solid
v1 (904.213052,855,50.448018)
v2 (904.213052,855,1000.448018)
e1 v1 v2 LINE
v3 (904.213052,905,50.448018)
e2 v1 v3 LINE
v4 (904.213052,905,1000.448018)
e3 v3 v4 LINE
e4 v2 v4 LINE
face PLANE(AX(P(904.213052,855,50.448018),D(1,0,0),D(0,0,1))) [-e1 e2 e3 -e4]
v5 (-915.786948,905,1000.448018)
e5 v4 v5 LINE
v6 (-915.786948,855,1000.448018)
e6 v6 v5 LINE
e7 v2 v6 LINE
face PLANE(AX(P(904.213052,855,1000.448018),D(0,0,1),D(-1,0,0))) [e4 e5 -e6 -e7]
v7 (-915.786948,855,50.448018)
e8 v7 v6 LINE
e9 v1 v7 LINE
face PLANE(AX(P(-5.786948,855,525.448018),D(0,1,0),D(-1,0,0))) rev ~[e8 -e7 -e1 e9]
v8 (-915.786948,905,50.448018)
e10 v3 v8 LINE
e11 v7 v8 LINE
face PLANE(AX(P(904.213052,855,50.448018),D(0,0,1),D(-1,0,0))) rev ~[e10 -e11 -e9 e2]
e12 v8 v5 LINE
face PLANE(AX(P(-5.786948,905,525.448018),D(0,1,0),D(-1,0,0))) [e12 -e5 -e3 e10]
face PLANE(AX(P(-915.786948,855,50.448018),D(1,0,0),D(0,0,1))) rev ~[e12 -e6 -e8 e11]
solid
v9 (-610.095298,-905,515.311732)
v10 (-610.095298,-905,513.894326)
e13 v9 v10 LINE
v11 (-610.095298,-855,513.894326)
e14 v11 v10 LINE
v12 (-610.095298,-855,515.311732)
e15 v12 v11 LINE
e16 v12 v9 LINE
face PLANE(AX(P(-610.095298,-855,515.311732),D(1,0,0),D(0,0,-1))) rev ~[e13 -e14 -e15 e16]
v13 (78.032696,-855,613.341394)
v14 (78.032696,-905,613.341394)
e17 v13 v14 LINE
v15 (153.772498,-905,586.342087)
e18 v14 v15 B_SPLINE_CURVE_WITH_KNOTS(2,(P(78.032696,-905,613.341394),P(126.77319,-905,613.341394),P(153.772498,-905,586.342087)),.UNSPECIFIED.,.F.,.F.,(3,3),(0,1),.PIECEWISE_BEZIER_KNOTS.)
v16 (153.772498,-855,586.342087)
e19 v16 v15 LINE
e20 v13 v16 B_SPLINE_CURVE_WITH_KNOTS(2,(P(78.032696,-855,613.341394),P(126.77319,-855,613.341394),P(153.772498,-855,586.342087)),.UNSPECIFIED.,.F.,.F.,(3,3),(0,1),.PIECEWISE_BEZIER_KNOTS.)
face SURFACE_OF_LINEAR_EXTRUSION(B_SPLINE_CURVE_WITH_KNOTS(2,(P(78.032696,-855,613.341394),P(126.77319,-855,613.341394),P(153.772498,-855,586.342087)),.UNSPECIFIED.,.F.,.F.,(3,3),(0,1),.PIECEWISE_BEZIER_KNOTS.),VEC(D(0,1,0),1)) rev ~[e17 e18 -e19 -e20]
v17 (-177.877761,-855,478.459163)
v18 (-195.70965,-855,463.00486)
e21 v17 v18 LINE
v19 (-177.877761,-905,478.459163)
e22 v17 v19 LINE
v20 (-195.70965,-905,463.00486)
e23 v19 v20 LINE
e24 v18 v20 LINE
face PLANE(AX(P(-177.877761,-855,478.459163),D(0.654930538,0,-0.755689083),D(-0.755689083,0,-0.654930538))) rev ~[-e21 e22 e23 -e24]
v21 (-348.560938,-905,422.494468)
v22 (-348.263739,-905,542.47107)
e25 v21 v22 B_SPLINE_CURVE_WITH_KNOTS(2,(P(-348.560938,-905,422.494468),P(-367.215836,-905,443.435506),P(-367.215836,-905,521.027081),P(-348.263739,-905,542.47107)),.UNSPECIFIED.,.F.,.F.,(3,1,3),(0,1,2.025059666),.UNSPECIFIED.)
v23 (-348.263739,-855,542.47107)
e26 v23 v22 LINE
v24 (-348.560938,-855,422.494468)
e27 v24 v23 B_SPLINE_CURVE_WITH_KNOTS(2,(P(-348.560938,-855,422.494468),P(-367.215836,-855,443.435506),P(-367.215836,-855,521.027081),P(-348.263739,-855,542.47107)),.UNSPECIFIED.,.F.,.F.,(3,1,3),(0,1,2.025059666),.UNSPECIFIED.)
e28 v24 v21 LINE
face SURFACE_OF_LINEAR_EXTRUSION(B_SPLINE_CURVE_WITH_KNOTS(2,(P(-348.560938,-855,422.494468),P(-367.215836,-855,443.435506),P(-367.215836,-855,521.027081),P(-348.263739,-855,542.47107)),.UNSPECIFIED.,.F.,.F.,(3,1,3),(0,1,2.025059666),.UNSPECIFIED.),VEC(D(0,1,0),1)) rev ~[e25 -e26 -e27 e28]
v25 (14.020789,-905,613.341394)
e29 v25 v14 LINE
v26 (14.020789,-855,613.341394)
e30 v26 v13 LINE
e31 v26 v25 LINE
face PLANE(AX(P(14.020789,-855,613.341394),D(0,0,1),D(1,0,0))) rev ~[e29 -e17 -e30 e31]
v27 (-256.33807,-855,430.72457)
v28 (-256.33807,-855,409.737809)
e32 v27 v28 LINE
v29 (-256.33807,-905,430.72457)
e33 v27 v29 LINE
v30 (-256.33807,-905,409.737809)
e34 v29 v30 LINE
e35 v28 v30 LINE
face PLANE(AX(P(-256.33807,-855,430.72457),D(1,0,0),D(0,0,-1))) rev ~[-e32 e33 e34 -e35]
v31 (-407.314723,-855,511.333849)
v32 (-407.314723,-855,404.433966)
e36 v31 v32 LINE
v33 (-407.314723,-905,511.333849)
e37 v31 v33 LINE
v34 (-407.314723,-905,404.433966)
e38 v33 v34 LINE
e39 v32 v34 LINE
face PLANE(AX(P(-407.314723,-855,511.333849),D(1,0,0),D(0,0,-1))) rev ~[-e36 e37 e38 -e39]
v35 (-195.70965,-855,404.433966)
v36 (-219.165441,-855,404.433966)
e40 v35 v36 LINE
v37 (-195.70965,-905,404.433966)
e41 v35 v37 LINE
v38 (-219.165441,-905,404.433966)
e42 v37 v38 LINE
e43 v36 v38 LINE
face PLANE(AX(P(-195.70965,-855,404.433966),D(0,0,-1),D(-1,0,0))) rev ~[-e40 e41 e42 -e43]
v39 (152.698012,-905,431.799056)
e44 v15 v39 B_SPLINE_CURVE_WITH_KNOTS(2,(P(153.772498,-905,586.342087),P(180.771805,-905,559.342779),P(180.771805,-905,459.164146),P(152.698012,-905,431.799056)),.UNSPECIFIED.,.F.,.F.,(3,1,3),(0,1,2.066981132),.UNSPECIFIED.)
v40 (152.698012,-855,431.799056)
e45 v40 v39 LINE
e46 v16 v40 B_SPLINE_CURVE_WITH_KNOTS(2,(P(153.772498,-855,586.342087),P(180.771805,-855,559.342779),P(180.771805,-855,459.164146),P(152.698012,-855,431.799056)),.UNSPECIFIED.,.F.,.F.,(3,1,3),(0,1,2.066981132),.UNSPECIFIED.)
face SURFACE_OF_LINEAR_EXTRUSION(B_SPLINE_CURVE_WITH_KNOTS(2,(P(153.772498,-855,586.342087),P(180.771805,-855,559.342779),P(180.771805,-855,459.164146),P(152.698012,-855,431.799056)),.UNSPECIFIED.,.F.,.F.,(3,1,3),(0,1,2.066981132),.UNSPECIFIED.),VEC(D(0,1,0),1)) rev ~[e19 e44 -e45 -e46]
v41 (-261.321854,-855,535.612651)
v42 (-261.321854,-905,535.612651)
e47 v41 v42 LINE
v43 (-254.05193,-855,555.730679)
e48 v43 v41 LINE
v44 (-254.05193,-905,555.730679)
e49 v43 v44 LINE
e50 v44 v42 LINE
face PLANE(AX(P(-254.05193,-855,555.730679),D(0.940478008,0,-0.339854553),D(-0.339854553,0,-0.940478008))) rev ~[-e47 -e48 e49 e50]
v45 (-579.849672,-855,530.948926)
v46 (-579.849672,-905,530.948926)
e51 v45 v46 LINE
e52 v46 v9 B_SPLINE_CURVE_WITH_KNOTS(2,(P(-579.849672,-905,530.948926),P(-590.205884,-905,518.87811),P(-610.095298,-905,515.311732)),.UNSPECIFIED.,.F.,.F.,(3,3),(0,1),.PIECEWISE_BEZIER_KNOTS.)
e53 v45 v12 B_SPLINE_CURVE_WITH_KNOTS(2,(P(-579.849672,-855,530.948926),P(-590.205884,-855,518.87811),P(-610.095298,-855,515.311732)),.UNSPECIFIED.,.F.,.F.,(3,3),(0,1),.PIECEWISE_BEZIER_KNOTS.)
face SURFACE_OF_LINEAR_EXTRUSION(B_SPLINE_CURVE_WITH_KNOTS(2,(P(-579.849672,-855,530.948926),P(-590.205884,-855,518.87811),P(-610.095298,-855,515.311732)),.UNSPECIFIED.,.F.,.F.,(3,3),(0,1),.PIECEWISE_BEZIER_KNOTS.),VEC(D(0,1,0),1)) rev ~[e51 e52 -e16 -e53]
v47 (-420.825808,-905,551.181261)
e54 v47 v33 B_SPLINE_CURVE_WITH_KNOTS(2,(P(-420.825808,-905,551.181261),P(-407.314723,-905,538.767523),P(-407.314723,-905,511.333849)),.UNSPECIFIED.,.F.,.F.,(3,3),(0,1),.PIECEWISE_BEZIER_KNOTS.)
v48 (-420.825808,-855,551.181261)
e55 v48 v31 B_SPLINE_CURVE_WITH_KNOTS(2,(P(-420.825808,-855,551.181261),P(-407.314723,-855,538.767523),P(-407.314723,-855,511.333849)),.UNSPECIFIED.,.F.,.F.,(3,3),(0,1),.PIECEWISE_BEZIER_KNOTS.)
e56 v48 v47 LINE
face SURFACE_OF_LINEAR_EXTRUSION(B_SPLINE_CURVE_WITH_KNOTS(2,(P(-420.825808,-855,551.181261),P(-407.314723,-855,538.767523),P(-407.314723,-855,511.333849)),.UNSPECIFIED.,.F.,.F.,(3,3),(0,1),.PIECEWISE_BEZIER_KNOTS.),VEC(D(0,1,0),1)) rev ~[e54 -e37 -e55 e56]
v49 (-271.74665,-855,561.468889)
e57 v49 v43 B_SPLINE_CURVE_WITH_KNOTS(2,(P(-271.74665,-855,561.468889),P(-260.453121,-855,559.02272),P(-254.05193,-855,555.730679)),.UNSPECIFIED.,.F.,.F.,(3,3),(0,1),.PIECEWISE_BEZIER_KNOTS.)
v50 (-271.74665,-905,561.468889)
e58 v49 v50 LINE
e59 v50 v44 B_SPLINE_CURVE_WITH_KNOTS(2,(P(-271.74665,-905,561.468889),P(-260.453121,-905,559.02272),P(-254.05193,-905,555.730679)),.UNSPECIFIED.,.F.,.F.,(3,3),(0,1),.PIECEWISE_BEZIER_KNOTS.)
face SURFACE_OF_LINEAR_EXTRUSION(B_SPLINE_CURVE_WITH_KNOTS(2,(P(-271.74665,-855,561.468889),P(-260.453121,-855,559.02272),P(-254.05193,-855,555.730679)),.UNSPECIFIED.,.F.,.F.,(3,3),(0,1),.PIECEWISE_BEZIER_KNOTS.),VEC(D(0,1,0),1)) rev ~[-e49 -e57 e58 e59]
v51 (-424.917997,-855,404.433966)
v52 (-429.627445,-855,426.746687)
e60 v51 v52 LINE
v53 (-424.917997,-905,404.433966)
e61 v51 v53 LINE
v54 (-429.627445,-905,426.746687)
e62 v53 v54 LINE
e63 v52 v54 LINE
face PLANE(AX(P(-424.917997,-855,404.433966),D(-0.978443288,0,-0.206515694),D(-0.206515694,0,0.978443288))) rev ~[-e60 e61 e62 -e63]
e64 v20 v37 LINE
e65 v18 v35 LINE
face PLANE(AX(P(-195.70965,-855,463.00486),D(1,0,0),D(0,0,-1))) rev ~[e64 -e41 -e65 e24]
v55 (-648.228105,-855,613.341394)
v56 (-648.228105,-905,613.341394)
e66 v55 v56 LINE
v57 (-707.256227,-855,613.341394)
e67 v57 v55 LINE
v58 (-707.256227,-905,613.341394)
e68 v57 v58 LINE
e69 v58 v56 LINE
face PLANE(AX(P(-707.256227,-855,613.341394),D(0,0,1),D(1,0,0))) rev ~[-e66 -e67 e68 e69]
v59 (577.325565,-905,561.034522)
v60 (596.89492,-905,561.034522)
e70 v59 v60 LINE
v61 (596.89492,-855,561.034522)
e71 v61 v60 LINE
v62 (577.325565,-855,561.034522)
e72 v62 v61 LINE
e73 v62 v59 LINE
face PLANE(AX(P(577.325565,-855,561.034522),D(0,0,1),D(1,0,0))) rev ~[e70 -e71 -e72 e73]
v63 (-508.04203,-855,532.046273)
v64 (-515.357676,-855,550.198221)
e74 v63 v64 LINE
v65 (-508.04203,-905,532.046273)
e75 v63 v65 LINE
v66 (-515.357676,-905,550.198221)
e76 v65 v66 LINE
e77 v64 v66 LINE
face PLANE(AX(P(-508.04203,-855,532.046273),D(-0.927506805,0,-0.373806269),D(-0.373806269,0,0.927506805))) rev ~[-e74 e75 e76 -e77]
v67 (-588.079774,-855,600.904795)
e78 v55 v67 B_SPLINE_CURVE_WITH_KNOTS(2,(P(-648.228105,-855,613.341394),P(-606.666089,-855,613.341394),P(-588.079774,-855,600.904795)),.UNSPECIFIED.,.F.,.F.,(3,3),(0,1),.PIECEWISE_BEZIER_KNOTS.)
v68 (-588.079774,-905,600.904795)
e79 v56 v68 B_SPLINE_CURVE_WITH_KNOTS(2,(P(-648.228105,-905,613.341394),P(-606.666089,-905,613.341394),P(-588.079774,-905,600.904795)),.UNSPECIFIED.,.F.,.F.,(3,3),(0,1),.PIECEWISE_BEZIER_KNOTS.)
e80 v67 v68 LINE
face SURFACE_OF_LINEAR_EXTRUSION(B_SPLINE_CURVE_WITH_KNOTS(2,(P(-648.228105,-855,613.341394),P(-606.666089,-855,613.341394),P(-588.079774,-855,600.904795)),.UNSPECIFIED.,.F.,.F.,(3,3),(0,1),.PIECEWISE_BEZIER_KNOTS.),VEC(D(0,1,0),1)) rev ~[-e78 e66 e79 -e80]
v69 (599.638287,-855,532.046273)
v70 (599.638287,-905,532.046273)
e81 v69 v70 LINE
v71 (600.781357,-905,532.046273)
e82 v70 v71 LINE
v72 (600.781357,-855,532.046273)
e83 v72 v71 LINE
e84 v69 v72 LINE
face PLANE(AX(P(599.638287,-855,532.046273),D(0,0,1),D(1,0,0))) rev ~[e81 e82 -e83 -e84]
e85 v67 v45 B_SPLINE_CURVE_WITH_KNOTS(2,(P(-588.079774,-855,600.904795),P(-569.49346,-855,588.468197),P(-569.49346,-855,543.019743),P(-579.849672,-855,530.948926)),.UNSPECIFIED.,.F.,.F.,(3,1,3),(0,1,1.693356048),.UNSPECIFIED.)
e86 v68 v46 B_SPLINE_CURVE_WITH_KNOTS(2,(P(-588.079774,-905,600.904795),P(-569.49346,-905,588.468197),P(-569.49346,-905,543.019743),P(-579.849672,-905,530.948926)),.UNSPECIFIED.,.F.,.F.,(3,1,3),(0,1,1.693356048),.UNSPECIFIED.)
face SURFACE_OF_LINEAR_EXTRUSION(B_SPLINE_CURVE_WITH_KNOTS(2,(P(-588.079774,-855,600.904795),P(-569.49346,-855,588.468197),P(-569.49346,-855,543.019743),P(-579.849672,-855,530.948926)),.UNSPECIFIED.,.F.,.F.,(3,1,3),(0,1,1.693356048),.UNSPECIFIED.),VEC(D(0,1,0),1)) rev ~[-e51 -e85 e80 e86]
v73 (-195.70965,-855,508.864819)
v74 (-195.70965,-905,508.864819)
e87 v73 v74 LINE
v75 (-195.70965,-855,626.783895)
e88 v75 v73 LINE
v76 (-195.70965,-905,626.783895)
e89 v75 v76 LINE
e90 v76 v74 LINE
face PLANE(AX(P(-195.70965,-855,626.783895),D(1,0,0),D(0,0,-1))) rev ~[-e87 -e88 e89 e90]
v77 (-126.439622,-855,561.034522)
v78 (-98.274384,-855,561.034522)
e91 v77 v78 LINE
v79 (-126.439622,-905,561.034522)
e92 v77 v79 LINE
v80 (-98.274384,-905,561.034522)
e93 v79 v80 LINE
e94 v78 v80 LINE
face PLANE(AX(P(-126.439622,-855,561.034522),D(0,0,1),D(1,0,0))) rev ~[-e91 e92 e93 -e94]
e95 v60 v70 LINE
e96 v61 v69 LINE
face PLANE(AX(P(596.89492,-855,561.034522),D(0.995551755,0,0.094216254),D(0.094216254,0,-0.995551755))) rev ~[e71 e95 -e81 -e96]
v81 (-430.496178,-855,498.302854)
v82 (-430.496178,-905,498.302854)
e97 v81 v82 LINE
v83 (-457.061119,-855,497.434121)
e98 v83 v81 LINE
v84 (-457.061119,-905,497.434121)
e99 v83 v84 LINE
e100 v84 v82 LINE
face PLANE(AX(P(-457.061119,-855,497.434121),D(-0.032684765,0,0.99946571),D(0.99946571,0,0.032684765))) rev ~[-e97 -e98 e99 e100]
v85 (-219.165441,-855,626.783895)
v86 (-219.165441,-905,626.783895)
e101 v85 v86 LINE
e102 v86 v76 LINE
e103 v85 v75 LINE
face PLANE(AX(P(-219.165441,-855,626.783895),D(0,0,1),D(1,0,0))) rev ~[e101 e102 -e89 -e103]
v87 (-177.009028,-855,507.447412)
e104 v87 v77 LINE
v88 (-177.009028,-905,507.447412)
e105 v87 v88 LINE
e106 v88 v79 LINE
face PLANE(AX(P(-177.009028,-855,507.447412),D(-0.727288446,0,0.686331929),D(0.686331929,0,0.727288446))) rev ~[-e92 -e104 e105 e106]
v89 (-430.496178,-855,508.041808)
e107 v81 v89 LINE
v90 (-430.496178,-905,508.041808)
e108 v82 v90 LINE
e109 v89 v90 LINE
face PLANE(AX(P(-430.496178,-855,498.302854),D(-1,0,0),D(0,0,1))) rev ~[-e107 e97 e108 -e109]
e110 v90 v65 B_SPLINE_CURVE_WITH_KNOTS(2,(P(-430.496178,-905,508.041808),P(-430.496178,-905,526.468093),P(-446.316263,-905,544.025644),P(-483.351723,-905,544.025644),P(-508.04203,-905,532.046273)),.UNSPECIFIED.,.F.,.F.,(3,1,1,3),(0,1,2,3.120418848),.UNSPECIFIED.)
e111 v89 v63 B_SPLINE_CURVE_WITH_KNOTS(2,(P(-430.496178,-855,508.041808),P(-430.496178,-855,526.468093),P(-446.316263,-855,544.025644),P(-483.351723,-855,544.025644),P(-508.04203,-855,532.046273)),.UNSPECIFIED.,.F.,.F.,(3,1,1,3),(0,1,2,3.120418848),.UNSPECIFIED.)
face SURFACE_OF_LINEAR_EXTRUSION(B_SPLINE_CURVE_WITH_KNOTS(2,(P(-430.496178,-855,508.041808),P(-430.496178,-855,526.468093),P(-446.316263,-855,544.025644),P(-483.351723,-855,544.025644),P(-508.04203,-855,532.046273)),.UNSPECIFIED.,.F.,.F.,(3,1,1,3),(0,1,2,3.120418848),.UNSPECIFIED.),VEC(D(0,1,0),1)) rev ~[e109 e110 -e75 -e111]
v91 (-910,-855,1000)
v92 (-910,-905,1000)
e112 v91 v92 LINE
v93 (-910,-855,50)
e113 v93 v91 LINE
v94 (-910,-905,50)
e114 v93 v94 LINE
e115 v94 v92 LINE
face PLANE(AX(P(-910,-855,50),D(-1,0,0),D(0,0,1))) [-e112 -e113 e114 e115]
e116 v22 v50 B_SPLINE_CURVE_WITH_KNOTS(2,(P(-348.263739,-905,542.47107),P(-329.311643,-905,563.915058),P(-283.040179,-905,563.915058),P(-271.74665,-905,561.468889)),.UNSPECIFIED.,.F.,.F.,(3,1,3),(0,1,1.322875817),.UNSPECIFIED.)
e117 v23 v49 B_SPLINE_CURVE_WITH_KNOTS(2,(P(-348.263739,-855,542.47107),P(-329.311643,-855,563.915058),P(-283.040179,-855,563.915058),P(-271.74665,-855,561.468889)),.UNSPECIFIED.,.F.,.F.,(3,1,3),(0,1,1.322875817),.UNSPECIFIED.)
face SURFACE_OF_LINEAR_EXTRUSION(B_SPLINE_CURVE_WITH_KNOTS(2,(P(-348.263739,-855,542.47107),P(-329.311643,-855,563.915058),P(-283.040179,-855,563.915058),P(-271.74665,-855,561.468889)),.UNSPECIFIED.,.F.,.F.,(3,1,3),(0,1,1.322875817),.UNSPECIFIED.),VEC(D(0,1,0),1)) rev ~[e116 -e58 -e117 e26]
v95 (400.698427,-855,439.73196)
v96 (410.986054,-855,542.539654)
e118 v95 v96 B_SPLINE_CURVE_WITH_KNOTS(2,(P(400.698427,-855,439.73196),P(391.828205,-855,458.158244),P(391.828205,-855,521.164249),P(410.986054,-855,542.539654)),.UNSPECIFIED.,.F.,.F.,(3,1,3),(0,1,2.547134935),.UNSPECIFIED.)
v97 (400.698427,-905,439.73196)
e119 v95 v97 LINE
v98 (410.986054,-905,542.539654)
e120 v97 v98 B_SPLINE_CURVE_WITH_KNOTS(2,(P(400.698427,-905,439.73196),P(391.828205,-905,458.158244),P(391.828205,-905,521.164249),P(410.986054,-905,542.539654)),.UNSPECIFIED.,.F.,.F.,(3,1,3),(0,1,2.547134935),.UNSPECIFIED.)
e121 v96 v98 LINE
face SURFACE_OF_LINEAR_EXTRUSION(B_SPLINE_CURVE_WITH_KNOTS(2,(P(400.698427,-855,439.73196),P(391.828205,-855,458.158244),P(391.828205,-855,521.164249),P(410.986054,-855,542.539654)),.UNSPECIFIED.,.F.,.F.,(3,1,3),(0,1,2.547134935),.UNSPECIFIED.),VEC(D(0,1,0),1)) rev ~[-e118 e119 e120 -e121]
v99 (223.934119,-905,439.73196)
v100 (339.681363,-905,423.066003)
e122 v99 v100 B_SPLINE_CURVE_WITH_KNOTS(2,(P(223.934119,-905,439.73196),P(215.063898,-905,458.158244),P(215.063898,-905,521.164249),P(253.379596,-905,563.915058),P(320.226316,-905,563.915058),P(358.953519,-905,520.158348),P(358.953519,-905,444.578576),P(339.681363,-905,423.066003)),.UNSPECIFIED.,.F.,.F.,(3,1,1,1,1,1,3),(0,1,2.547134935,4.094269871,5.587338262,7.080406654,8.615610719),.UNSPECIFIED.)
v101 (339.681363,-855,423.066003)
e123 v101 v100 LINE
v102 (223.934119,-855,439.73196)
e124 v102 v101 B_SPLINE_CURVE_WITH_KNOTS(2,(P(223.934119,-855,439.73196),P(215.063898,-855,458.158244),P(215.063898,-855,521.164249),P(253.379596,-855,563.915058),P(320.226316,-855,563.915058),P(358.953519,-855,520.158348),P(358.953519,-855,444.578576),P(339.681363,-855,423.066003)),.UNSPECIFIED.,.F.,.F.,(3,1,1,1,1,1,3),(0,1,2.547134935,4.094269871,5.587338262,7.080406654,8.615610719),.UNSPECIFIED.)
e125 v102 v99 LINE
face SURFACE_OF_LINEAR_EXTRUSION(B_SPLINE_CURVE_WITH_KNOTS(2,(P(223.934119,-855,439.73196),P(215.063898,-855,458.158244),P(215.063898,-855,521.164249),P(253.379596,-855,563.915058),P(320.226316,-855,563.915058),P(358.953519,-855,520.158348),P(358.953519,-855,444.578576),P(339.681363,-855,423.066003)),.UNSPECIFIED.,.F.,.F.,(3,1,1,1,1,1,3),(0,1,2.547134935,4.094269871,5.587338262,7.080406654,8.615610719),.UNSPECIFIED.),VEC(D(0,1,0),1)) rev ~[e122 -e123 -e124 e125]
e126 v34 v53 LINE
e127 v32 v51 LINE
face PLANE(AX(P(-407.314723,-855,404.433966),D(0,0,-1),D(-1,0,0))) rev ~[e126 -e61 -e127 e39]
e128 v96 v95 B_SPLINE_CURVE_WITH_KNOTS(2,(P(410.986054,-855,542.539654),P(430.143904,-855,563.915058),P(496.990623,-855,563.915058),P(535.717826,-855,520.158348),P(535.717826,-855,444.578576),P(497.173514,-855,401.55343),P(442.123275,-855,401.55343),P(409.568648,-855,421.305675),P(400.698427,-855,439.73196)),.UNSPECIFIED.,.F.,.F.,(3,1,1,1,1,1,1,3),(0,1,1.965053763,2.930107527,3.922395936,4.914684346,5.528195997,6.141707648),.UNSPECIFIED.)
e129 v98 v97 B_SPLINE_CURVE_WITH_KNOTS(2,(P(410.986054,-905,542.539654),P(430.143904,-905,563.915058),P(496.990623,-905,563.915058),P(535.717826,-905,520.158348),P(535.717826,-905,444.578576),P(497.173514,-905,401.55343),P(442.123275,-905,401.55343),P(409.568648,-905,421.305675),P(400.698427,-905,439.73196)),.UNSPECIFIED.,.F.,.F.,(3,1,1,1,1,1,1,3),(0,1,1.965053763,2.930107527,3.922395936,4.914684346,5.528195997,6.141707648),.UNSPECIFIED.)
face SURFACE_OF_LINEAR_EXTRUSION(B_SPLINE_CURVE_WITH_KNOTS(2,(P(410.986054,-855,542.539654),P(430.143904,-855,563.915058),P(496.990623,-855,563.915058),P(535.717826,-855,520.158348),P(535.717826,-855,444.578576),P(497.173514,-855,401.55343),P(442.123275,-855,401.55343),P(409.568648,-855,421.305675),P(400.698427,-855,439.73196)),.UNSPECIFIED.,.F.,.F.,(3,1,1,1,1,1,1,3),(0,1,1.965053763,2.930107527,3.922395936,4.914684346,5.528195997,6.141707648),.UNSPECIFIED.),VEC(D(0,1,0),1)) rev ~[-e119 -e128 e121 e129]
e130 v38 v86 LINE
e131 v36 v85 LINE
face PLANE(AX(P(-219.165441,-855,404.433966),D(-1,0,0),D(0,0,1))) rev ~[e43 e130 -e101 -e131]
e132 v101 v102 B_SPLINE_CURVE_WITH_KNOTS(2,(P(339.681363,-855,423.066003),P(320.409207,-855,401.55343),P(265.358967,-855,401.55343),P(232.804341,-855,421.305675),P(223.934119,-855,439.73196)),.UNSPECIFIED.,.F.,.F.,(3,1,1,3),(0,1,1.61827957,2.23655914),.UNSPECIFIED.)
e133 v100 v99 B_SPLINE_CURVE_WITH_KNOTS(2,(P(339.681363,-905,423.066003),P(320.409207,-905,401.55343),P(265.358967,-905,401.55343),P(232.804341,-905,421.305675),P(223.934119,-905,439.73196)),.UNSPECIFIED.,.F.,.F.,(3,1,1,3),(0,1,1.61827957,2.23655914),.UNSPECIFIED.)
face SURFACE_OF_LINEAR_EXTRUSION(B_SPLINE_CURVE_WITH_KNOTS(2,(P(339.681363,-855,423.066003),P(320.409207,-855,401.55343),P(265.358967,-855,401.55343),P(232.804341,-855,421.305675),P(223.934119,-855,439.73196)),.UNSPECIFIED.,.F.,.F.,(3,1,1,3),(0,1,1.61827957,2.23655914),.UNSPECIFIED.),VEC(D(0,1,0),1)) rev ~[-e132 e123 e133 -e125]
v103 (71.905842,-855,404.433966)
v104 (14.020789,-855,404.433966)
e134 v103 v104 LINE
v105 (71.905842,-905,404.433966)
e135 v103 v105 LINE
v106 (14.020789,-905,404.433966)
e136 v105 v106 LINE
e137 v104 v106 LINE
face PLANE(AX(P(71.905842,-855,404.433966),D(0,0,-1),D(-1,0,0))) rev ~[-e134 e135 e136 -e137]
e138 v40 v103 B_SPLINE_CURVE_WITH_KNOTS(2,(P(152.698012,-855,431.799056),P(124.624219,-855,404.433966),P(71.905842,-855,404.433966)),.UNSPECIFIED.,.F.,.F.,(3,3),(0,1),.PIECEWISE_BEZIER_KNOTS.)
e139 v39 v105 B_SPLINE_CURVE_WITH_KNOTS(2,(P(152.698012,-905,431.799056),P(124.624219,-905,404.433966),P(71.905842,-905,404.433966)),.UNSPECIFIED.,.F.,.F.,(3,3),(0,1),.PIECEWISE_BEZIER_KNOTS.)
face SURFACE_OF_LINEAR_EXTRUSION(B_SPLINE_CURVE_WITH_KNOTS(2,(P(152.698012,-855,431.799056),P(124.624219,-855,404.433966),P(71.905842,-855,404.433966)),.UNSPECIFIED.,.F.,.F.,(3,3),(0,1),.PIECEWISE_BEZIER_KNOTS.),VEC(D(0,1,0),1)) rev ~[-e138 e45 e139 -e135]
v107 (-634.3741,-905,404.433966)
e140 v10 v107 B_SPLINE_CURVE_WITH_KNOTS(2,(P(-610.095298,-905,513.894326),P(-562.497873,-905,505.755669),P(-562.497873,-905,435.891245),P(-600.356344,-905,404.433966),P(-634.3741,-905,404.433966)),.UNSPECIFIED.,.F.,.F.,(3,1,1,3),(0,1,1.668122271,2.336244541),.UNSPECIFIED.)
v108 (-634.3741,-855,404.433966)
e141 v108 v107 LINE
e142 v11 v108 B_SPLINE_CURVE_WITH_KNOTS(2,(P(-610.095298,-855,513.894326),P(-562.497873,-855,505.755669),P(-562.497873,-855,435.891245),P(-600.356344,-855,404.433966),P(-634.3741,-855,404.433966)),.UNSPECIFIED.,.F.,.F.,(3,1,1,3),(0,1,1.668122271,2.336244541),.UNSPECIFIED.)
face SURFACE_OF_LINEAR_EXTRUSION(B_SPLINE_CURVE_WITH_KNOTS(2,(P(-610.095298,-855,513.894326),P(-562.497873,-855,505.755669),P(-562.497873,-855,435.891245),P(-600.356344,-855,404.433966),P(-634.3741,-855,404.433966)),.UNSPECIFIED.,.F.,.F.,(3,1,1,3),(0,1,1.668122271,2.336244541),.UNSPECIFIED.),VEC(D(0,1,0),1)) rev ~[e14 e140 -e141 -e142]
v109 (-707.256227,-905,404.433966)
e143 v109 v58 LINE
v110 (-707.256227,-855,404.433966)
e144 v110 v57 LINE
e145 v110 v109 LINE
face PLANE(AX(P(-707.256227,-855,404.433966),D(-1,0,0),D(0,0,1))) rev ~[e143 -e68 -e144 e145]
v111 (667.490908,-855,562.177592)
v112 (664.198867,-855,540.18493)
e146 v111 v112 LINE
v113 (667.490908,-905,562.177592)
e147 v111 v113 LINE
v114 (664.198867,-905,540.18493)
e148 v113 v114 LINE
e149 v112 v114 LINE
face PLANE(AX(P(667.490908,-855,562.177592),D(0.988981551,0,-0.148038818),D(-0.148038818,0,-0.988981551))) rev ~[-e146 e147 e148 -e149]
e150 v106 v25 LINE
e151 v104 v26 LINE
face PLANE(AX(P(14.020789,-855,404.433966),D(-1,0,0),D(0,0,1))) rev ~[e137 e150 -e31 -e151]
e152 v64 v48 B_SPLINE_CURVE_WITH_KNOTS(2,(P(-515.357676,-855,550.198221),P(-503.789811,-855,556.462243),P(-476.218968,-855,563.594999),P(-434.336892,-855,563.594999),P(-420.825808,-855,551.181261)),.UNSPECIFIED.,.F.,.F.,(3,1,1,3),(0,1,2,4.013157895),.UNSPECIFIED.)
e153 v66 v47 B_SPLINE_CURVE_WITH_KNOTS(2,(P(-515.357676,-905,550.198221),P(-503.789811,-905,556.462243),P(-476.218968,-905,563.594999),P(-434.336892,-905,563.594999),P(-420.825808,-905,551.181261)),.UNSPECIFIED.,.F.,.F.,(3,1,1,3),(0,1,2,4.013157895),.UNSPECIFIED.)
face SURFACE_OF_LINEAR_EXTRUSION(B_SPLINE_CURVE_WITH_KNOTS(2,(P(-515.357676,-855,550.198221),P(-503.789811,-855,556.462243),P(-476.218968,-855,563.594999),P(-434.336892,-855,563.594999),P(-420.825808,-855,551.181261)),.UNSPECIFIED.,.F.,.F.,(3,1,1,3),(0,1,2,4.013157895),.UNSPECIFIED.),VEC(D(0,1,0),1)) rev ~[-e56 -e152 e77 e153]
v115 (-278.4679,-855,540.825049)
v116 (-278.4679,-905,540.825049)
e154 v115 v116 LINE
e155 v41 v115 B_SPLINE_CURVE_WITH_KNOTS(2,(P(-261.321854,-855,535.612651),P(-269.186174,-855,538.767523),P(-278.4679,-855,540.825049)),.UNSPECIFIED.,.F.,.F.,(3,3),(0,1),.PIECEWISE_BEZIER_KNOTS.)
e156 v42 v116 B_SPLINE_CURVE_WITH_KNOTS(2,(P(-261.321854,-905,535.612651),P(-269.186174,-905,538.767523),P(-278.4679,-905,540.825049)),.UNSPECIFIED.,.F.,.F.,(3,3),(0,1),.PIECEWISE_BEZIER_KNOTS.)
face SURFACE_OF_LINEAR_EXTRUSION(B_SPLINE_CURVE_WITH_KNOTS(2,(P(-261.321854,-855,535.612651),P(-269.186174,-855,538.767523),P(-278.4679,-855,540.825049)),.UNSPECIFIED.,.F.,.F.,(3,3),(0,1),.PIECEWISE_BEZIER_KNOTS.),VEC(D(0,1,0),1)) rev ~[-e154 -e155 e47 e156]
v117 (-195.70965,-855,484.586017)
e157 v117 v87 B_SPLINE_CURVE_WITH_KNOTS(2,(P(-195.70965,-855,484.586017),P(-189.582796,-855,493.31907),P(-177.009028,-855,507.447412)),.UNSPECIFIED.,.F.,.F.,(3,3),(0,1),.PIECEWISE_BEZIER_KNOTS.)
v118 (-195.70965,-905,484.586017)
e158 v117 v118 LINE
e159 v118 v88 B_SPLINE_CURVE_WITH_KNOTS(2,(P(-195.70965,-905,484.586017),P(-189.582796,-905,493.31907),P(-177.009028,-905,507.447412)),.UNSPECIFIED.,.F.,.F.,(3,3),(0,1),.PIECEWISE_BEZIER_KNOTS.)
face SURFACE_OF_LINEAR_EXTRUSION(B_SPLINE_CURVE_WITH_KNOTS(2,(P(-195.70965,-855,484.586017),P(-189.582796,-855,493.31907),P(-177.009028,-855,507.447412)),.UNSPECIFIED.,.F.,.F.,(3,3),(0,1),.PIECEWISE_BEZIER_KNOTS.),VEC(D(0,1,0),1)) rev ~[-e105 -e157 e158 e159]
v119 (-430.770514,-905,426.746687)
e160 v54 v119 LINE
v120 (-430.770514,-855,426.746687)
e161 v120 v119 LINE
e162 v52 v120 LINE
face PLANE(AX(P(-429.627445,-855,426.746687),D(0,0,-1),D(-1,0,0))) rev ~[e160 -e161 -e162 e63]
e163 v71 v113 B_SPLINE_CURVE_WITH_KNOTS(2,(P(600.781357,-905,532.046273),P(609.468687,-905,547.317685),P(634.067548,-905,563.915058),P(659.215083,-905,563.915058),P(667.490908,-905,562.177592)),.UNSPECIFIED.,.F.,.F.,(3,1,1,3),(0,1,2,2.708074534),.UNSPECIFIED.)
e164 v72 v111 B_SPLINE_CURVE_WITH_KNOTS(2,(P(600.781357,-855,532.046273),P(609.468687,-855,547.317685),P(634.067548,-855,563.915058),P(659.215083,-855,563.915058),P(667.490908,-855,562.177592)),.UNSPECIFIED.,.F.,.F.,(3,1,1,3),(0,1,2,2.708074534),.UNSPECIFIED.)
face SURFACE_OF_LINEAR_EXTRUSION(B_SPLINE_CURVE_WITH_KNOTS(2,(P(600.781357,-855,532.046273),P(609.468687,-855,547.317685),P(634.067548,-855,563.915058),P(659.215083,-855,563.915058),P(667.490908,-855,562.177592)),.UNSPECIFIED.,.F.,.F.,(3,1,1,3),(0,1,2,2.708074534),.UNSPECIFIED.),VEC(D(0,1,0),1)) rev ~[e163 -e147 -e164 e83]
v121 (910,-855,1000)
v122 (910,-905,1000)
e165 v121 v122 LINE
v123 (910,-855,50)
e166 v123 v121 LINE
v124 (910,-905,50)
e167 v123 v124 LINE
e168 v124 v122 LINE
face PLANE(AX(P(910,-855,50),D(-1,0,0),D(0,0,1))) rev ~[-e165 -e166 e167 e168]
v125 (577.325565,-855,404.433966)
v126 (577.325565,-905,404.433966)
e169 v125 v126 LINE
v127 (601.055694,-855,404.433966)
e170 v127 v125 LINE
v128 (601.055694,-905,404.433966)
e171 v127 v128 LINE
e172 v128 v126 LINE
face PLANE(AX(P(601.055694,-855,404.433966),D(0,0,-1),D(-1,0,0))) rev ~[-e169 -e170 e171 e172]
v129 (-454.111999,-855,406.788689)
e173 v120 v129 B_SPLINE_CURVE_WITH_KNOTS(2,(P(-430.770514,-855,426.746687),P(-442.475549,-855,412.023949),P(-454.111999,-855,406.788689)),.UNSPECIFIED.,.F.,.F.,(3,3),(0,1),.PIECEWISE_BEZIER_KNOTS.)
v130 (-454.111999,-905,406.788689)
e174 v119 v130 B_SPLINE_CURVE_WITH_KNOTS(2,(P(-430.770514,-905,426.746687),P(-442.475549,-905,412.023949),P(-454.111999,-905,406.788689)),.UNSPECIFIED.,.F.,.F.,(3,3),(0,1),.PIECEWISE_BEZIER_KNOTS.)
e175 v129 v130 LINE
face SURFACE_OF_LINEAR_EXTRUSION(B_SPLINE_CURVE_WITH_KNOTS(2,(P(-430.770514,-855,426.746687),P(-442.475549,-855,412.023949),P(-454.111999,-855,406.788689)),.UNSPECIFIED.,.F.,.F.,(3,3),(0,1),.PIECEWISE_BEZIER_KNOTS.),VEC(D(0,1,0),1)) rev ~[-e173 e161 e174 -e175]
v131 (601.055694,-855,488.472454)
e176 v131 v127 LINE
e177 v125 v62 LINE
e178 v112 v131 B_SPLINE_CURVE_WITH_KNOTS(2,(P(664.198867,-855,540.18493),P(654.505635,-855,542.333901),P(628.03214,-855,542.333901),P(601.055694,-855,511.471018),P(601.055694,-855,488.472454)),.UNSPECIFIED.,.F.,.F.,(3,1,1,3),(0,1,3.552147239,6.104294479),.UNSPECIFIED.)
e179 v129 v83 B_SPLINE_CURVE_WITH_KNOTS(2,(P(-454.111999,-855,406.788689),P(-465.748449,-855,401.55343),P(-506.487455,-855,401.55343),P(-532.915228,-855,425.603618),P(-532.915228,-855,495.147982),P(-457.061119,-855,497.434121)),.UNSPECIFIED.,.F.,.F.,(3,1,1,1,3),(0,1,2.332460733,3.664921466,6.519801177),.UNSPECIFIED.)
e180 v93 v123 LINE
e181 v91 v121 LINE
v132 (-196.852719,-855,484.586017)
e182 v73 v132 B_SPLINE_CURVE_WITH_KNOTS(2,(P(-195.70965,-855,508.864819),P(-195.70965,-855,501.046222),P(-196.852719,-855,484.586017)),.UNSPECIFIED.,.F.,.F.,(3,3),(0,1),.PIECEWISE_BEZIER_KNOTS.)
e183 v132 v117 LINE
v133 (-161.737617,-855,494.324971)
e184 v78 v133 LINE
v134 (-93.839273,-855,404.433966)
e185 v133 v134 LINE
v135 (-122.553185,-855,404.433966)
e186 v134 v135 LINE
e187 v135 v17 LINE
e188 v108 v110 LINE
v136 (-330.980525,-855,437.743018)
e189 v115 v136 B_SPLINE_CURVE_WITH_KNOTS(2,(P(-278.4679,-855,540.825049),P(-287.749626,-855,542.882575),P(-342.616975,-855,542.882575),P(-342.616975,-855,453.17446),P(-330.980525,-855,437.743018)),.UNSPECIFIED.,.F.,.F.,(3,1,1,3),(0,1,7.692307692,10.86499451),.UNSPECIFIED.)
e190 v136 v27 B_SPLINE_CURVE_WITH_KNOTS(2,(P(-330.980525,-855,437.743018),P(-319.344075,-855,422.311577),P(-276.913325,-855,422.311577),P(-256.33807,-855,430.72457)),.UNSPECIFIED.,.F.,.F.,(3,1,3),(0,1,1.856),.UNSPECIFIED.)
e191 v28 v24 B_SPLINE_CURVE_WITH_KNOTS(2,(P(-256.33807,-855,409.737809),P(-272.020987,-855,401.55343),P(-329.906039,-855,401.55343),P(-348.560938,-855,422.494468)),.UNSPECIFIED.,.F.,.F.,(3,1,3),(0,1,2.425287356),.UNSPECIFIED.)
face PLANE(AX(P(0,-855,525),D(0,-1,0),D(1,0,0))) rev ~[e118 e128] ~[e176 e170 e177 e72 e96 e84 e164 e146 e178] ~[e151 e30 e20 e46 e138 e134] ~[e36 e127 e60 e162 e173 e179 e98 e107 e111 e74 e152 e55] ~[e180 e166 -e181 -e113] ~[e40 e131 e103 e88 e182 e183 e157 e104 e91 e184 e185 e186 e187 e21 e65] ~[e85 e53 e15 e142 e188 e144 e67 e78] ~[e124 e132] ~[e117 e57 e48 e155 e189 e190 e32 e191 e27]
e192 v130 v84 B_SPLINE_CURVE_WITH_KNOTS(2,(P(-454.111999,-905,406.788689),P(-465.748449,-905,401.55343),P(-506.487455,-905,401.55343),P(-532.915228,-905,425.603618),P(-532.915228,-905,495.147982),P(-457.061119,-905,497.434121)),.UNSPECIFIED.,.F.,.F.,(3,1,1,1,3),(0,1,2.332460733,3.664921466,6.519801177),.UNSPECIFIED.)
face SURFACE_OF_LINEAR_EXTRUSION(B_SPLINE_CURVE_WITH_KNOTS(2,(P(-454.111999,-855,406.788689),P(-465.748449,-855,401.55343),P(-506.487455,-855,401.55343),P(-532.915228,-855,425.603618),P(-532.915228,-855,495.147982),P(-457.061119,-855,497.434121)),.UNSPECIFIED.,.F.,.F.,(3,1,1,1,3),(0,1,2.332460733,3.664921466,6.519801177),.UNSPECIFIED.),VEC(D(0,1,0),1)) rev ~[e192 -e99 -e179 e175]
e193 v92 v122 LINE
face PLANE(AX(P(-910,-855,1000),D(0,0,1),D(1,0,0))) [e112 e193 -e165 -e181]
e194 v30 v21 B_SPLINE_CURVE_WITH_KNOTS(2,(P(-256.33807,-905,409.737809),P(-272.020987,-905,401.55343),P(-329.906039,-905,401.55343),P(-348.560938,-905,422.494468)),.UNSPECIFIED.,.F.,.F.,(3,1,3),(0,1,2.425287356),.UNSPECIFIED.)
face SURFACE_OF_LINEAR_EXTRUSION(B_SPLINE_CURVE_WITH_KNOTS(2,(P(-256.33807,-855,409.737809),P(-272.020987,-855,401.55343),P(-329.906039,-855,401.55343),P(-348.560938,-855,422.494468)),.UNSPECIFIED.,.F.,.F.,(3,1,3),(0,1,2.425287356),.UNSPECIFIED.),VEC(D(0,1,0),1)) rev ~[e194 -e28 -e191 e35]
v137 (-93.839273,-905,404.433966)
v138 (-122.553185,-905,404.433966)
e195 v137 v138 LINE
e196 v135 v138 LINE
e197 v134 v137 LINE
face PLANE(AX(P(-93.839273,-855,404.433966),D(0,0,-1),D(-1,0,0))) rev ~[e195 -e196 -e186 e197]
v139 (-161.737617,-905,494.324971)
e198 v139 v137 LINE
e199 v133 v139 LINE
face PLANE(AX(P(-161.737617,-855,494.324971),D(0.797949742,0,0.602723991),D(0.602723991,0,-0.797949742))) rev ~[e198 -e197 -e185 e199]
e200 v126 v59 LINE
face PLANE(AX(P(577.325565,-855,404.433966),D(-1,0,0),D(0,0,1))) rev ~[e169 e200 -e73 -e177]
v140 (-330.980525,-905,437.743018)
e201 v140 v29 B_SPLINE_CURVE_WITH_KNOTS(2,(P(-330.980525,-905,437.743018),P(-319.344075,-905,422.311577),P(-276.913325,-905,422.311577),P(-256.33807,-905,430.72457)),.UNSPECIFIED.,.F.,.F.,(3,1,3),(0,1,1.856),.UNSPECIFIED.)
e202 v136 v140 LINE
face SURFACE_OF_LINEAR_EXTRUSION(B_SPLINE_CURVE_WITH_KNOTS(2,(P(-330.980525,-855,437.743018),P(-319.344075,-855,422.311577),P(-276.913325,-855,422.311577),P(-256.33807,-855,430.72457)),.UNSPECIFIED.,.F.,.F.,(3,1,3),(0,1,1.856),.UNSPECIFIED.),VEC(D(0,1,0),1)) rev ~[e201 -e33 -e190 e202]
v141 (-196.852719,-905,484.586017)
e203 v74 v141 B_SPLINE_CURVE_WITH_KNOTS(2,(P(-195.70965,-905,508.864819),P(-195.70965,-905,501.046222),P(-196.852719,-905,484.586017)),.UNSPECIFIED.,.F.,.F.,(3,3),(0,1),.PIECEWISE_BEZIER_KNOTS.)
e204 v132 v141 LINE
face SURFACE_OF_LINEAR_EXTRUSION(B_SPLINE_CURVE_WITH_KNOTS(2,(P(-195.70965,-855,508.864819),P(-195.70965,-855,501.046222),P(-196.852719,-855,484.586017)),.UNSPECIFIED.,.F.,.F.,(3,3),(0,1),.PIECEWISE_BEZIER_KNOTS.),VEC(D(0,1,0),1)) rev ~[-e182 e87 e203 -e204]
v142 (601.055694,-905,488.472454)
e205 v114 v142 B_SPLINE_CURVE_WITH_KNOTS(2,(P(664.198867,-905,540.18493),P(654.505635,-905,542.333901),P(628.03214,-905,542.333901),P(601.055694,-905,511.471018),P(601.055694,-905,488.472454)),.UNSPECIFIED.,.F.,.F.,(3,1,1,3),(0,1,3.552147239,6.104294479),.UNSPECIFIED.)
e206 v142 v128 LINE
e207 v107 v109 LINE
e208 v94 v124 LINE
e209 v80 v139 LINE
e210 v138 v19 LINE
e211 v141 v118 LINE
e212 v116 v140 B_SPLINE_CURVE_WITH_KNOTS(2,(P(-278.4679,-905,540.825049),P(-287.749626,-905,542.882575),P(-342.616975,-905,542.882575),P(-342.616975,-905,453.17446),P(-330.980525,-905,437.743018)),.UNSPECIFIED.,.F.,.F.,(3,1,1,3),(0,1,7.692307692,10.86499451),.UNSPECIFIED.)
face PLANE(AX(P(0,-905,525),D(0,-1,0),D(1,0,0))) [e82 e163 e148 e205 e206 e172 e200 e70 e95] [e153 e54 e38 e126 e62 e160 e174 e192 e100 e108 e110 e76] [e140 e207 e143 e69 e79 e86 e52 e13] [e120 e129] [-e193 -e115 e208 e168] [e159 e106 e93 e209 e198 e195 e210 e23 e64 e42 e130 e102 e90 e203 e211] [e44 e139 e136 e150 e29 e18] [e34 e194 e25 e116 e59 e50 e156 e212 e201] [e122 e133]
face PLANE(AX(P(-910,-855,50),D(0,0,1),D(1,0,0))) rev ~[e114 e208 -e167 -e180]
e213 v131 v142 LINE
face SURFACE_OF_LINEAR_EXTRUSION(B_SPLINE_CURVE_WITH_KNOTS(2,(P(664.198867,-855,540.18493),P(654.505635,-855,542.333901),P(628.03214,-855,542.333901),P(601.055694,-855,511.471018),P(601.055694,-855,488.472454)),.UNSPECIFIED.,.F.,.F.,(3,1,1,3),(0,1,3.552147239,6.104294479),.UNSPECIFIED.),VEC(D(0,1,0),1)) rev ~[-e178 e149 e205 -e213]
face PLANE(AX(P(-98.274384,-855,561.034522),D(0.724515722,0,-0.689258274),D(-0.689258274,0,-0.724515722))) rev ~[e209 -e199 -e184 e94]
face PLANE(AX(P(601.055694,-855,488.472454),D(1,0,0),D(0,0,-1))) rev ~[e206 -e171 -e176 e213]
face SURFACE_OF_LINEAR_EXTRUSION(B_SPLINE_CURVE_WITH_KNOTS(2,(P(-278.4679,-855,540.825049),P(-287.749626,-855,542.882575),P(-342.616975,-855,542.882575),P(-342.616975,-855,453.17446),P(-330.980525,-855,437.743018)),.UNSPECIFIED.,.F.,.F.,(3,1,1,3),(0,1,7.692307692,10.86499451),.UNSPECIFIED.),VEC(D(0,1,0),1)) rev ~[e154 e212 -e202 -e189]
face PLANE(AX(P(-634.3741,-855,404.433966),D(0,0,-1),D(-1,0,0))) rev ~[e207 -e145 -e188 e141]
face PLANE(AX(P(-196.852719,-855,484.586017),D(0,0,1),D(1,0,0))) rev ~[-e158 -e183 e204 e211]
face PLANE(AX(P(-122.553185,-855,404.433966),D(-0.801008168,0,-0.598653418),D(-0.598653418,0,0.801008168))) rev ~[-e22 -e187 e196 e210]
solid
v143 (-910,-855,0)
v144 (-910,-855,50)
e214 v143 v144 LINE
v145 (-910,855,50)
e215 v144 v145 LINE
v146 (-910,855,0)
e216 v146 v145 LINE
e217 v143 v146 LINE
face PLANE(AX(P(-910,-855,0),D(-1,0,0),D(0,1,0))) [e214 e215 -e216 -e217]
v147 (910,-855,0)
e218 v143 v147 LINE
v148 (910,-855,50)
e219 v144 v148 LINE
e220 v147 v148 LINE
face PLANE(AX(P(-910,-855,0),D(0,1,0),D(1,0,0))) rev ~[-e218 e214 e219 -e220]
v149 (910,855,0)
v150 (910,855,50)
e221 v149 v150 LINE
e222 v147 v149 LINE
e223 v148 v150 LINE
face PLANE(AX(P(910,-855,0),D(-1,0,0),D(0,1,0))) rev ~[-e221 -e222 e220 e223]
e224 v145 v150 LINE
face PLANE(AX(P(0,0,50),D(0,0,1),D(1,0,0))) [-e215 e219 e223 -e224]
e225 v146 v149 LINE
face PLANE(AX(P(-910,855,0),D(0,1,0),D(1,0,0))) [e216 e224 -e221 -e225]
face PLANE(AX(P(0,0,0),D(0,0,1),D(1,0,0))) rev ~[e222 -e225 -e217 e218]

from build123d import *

# Parameters (mm, degrees)
F0_W     = 1820
F0_H     = 1710
F1_DEPTH = 50
F2_W     = 1820
F2_H     = 950
F3_DEPTH = 50
F4_W     = 1820
F4_H     = 950
F5_DEPTH = 50


with BuildPart() as f1:
    # F0 (on Top) → F1 (new body)
    with BuildSketch(Plane.XY):
        Rectangle(F0_W, F0_H)
    extrude(amount=F1_DEPTH)


with BuildPart() as f3:
    # F2 (on face) → F3 (new body)
    with BuildSketch(Plane(origin=(0, 855, 0), x_dir=(-1, 0, 0), z_dir=(0, 1, 0))):
        with Locations((5.786948204, 525.4480183125)):
            Rectangle(F2_W, F2_H)
    extrude(amount=F3_DEPTH)


with BuildPart() as f5:
    # F4 (on face) → F5 (new body)
    with BuildSketch(Plane.XZ.offset(855)):
        with Locations((0, 525)):
            Rectangle(F4_W, F4_H)
        with BuildLine():
            Line((-407.3147230471, 404.433965683), (-424.9179973008, 404.433965683))
            Line((-424.9179973008, 404.433965683), (-429.6274446986, 426.7466873344))
            Line((-429.6274446986, 426.7466873344), (-430.7705144553, 426.7466873344))
            add(Edge.make_bspline(
                [(-430.7705144553, 426.7466873344), (-442.4755487643, 412.0239488677), (-454.1119988878, 406.7886893819)],
                knots=[0, 0, 0, 1, 1, 1], degree=2))
            add(Edge.make_bspline(
                [(-454.1119988878, 406.7886893819), (-465.7484490114, 401.553429896), (-483.2145548943, 401.553429896)],
                knots=[0, 0, 0, 1, 1, 1], degree=2))
            add(Edge.make_bspline(
                [(-483.2145548943, 401.553429896), (-506.4874551414, 401.553429896), (-519.7013415293, 413.5785237369)],
                knots=[0, 0, 0, 1, 1, 1], degree=2))
            add(Edge.make_bspline(
                [(-519.7013415293, 413.5785237369), (-532.9152279171, 425.6036175777), (-532.9152279171, 447.7334480681)],
                knots=[0, 0, 0, 1, 1, 1], degree=2))
            add(Edge.make_bspline(
                [(-532.9152279171, 447.7334480681), (-532.9152279171, 495.1479815774), (-457.0611188602, 497.4341210909)],
                knots=[0, 0, 0, 1, 1, 1], degree=2))
            Line((-457.0611188602, 497.4341210909), (-430.4961777137, 498.302854106))
            Line((-430.4961777137, 498.302854106), (-430.4961777137, 508.0418084334))
            add(Edge.make_bspline(
                [(-430.4961777137, 508.0418084334), (-430.4961777137, 526.468092912), (-438.4062204303, 535.2468686437)],
                knots=[0, 0, 0, 1, 1, 1], degree=2))
            add(Edge.make_bspline(
                [(-438.4062204303, 535.2468686437), (-446.3162631469, 544.0256443754), (-463.7823690298, 544.0256443754)],
                knots=[0, 0, 0, 1, 1, 1], degree=2))
            add(Edge.make_bspline(
                [(-463.7823690298, 544.0256443754), (-483.3517232651, 544.0256443754), (-508.0420300106, 532.0462733248)],
                knots=[0, 0, 0, 1, 1, 1], degree=2))
            Line((-508.0420300106, 532.0462733248), (-515.3576764537, 550.1982210618))
            add(Edge.make_bspline(
                [(-515.3576764537, 550.1982210618), (-503.7898105155, 556.4622433287), (-490.0043892493, 560.0286209697)],
                knots=[0, 0, 0, 1, 1, 1], degree=2))
            add(Edge.make_bspline(
                [(-490.0043892493, 560.0286209697), (-476.2189679831, 563.5949986107), (-462.3192397412, 563.5949986107)],
                knots=[0, 0, 0, 1, 1, 1], degree=2))
            add(Edge.make_bspline(
                [(-462.3192397412, 563.5949986107), (-434.3368920963, 563.5949986107), (-420.8258075717, 551.1812610526)],
                knots=[0, 0, 0, 1, 1, 1], degree=2))
            add(Edge.make_bspline(
                [(-420.8258075717, 551.1812610526), (-407.3147230471, 538.7675234944), (-407.3147230471, 511.3338493328)],
                knots=[0, 0, 0, 1, 1, 1], degree=2))
            Line((-407.3147230471, 511.3338493328), (-407.3147230471, 404.433965683))
        make_face(mode=Mode.SUBTRACT)
        with BuildLine():
            add(Edge.make_bspline(
                [(-256.3380695776, 409.7378093542), (-272.02098664, 401.553429896), (-295.8882831606, 401.553429896)],
                knots=[0, 0, 0, 1, 1, 1], degree=2))
            add(Edge.make_bspline(
                [(-295.8882831606, 401.553429896), (-329.906039121, 401.553429896), (-348.560937551, 422.4944678394)],
                knots=[0, 0, 0, 1, 1, 1], degree=2))
            add(Edge.make_bspline(
                [(-348.560937551, 422.4944678394), (-367.2158359809, 443.4355057828), (-367.2158359809, 481.7512040285)],
                knots=[0, 0, 0, 1, 1, 1], degree=2))
            add(Edge.make_bspline(
                [(-367.2158359809, 481.7512040285), (-367.2158359809, 521.0270808699), (-348.2637394142, 542.4710695063)],
                knots=[0, 0, 0, 1, 1, 1], degree=2))
            add(Edge.make_bspline(
                [(-348.2637394142, 542.4710695063), (-329.3116428475, 563.9150581426), (-294.3337082915, 563.9150581426)],
                knots=[0, 0, 0, 1, 1, 1], degree=2))
            add(Edge.make_bspline(
                [(-294.3337082915, 563.9150581426), (-283.0401790949, 563.9150581426), (-271.7466498984, 561.4688888632)],
                knots=[0, 0, 0, 1, 1, 1], degree=2))
            add(Edge.make_bspline(
                [(-271.7466498984, 561.4688888632), (-260.4531207018, 559.0227195838), (-254.0519300641, 555.7306786844)],
                knots=[0, 0, 0, 1, 1, 1], degree=2))
            Line((-254.0519300641, 555.7306786844), (-261.321853717, 535.6126509659))
            add(Edge.make_bspline(
                [(-261.321853717, 535.6126509659), (-269.1861736433, 538.7675234944), (-278.467900068, 540.8250490566)],
                knots=[0, 0, 0, 1, 1, 1], degree=2))
            add(Edge.make_bspline(
                [(-278.467900068, 540.8250490566), (-287.7496264927, 542.8825746187), (-294.8823817747, 542.8825746187)],
                knots=[0, 0, 0, 1, 1, 1], degree=2))
            add(Edge.make_bspline(
                [(-294.8823817747, 542.8825746187), (-342.6169748159, 542.8825746187), (-342.6169748159, 482.0255407701)],
                knots=[0, 0, 0, 1, 1, 1], degree=2))
            add(Edge.make_bspline(
                [(-342.6169748159, 482.0255407701), (-342.6169748159, 453.1744601102), (-330.9805246924, 437.7430183942)],
                knots=[0, 0, 0, 1, 1, 1], degree=2))
            add(Edge.make_bspline(
                [(-330.9805246924, 437.7430183942), (-319.3440745688, 422.3115766783), (-296.4826794341, 422.3115766783)],
                knots=[0, 0, 0, 1, 1, 1], degree=2))
            add(Edge.make_bspline(
                [(-296.4826794341, 422.3115766783), (-276.9133251988, 422.3115766783), (-256.3380695776, 430.7245700879)],
                knots=[0, 0, 0, 1, 1, 1], degree=2))
            Line((-256.3380695776, 430.7245700879), (-256.3380695776, 409.7378093542))
        make_face(mode=Mode.SUBTRACT)
        with BuildLine():
            add(Edge.make_bspline(
                [(339.5899173985, 542.0367029987), (358.9535190776, 520.1583478548), (358.9535190776, 482.8942737853)],
                knots=[0, 0, 0, 1, 1, 1], degree=2))
            add(Edge.make_bspline(
                [(358.9535190776, 482.8942737853), (358.9535190776, 444.5785755395), (339.681362979, 423.0660027178)],
                knots=[0, 0, 0, 1, 1, 1], degree=2))
            add(Edge.make_bspline(
                [(339.681362979, 423.0660027178), (320.4092068805, 401.553429896), (286.39145092, 401.553429896)],
                knots=[0, 0, 0, 1, 1, 1], degree=2))
            add(Edge.make_bspline(
                [(286.39145092, 401.553429896), (265.3589673961, 401.553429896), (249.0816540602, 411.4295525942)],
                knots=[0, 0, 0, 1, 1, 1], degree=2))
            add(Edge.make_bspline(
                [(249.0816540602, 411.4295525942), (232.8043407243, 421.3056752924), (223.9341194121, 439.731959771)],
                knots=[0, 0, 0, 1, 1, 1], degree=2))
            add(Edge.make_bspline(
                [(223.9341194121, 439.731959771), (215.0638980998, 458.1582442495), (215.0638980998, 482.8942737853)],
                knots=[0, 0, 0, 1, 1, 1], degree=2))
            add(Edge.make_bspline(
                [(215.0638980998, 482.8942737853), (215.0638980998, 521.1642492407), (234.2217472227, 542.5396536917)],
                knots=[0, 0, 0, 1, 1, 1], degree=2))
            add(Edge.make_bspline(
                [(234.2217472227, 542.5396536917), (253.3795963455, 563.9150581426), (287.397352306, 563.9150581426)],
                knots=[0, 0, 0, 1, 1, 1], degree=2))
            add(Edge.make_bspline(
                [(287.397352306, 563.9150581426), (320.2263157194, 563.9150581426), (339.5899173985, 542.0367029987)],
                knots=[0, 0, 0, 1, 1, 1], degree=2))
        make_face(mode=Mode.SUBTRACT)
        with BuildLine():
            add(Edge.make_bspline(
                [(516.3542245799, 542.0367029987), (535.717826259, 520.1583478548), (535.717826259, 482.8942737853)],
                knots=[0, 0, 0, 1, 1, 1], degree=2))
            add(Edge.make_bspline(
                [(535.717826259, 482.8942737853), (535.717826259, 444.5785755395), (516.4456701605, 423.0660027178)],
                knots=[0, 0, 0, 1, 1, 1], degree=2))
            add(Edge.make_bspline(
                [(516.4456701605, 423.0660027178), (497.1735140619, 401.553429896), (463.1557581015, 401.553429896)],
                knots=[0, 0, 0, 1, 1, 1], degree=2))
            add(Edge.make_bspline(
                [(463.1557581015, 401.553429896), (442.1232745776, 401.553429896), (425.8459612417, 411.4295525942)],
                knots=[0, 0, 0, 1, 1, 1], degree=2))
            add(Edge.make_bspline(
                [(425.8459612417, 411.4295525942), (409.5686479058, 421.3056752924), (400.6984265935, 439.731959771)],
                knots=[0, 0, 0, 1, 1, 1], degree=2))
            add(Edge.make_bspline(
                [(400.6984265935, 439.731959771), (391.8282052812, 458.1582442495), (391.8282052812, 482.8942737853)],
                knots=[0, 0, 0, 1, 1, 1], degree=2))
            add(Edge.make_bspline(
                [(391.8282052812, 482.8942737853), (391.8282052812, 521.1642492407), (410.9860544041, 542.5396536917)],
                knots=[0, 0, 0, 1, 1, 1], degree=2))
            add(Edge.make_bspline(
                [(410.9860544041, 542.5396536917), (430.143903527, 563.9150581426), (464.1616594874, 563.9150581426)],
                knots=[0, 0, 0, 1, 1, 1], degree=2))
            add(Edge.make_bspline(
                [(464.1616594874, 563.9150581426), (496.9906229008, 563.9150581426), (516.3542245799, 542.0367029987)],
                knots=[0, 0, 0, 1, 1, 1], degree=2))
        make_face(mode=Mode.SUBTRACT)
        with BuildLine():
            add(Edge.make_bspline(
                [(621.768117546, 555.6163717087), (634.0675481285, 563.9150581426), (648.7902865952, 563.9150581426)],
                knots=[0, 0, 0, 1, 1, 1], degree=2))
            add(Edge.make_bspline(
                [(648.7902865952, 563.9150581426), (659.2150827766, 563.9150581426), (667.4909078154, 562.1775921124)],
                knots=[0, 0, 0, 1, 1, 1], degree=2))
            Line((667.4909078154, 562.1775921124), (664.198866916, 540.1849299928))
            add(Edge.make_bspline(
                [(664.198866916, 540.1849299928), (654.5056353789, 542.3339011355), (647.052820565, 542.3339011355)],
                knots=[0, 0, 0, 1, 1, 1], degree=2))
            add(Edge.make_bspline(
                [(647.052820565, 542.3339011355), (628.0321398129, 542.3339011355), (614.5439166834, 526.9024594195)],
                knots=[0, 0, 0, 1, 1, 1], degree=2))
            add(Edge.make_bspline(
                [(614.5439166834, 526.9024594195), (601.055693554, 511.4710177036), (601.055693554, 488.4724541981)],
                knots=[0, 0, 0, 1, 1, 1], degree=2))
            Line((601.055693554, 488.4724541981), (601.055693554, 404.433965683))
            Line((601.055693554, 404.433965683), (577.3255654042, 404.433965683))
            Line((577.3255654042, 404.433965683), (577.3255654042, 561.0345223556))
            Line((577.3255654042, 561.0345223556), (596.8949196395, 561.0345223556))
            Line((596.8949196395, 561.0345223556), (599.6382870556, 532.0462733248))
            Line((599.6382870556, 532.0462733248), (600.7813568124, 532.0462733248))
            add(Edge.make_bspline(
                [(600.7813568124, 532.0462733248), (609.4686869635, 547.3176852748), (621.768117546, 555.6163717087)],
                knots=[0, 0, 0, 1, 1, 1], degree=2))
        make_face(mode=Mode.SUBTRACT)
        with BuildLine():
            Line((-707.2562272143, 404.433965683), (-707.2562272143, 613.3413944238))
            Line((-707.2562272143, 613.3413944238), (-648.2281049765, 613.3413944238))
            add(Edge.make_bspline(
                [(-648.2281049765, 613.3413944238), (-606.6660886216, 613.3413944238), (-588.0797743771, 600.9047954705)],
                knots=[0, 0, 0, 1, 1, 1], degree=2))
            add(Edge.make_bspline(
                [(-588.0797743771, 600.9047954705), (-569.4934601326, 588.4681965173), (-569.4934601326, 561.6289186291)],
                knots=[0, 0, 0, 1, 1, 1], degree=2))
            add(Edge.make_bspline(
                [(-569.4934601326, 561.6289186291), (-569.4934601326, 543.0197429895), (-579.8496721287, 530.9489263584)],
                knots=[0, 0, 0, 1, 1, 1], degree=2))
            add(Edge.make_bspline(
                [(-579.8496721287, 530.9489263584), (-590.2058841247, 518.8781097273), (-610.0952978919, 515.3117320862)],
                knots=[0, 0, 0, 1, 1, 1], degree=2))
            Line((-610.0952978919, 515.3117320862), (-610.0952978919, 513.8943255879))
            add(Edge.make_bspline(
                [(-610.0952978919, 513.8943255879), (-562.4978732214, 505.7556689199), (-562.4978732214, 463.8735930332)],
                knots=[0, 0, 0, 1, 1, 1], degree=2))
            add(Edge.make_bspline(
                [(-562.4978732214, 463.8735930332), (-562.4978732214, 435.8912453883), (-581.4271083929, 420.1626055357)],
                knots=[0, 0, 0, 1, 1, 1], degree=2))
            add(Edge.make_bspline(
                [(-581.4271083929, 420.1626055357), (-600.3563435645, 404.433965683), (-634.3740995249, 404.433965683)],
                knots=[0, 0, 0, 1, 1, 1], degree=2))
            Line((-634.3740995249, 404.433965683), (-707.2562272143, 404.433965683))
        make_face(mode=Mode.SUBTRACT)
        with BuildLine():
            Line((-196.8527194371, 484.5860170252), (-195.7096496804, 484.5860170252))
            add(Edge.make_bspline(
                [(-195.7096496804, 484.5860170252), (-189.5827957843, 493.3190699667), (-177.0090284602, 507.4474121599)],
                knots=[0, 0, 0, 1, 1, 1], degree=2))
            Line((-177.0090284602, 507.4474121599), (-126.4396224223, 561.0345223556))
            Line((-126.4396224223, 561.0345223556), (-98.2743836163, 561.0345223556))
            Line((-98.2743836163, 561.0345223556), (-161.7376165102, 494.3249713526))
            Line((-161.7376165102, 494.3249713526), (-93.8392729602, 404.433965683))
            Line((-93.8392729602, 404.433965683), (-122.5531852494, 404.433965683))
            Line((-122.5531852494, 404.433965683), (-177.8777614753, 478.4591631291))
            Line((-177.8777614753, 478.4591631291), (-195.7096496804, 463.0048600181))
            Line((-195.7096496804, 463.0048600181), (-195.7096496804, 404.433965683))
            Line((-195.7096496804, 404.433965683), (-219.1654410886, 404.433965683))
            Line((-219.1654410886, 404.433965683), (-219.1654410886, 626.783894763))
            Line((-219.1654410886, 626.783894763), (-195.7096496804, 626.783894763))
            Line((-195.7096496804, 626.783894763), (-195.7096496804, 508.8648186583))
            add(Edge.make_bspline(
                [(-195.7096496804, 508.8648186583), (-195.7096496804, 501.0462215222), (-196.8527194371, 484.5860170252)],
                knots=[0, 0, 0, 1, 1, 1], degree=2))
        make_face(mode=Mode.SUBTRACT)
        with BuildLine():
            add(Edge.make_bspline(
                [(153.7724977437, 586.3420867697), (180.7718053978, 559.3427791157), (180.7718053978, 510.8766214301)],
                knots=[0, 0, 0, 1, 1, 1], degree=2))
            add(Edge.make_bspline(
                [(180.7718053978, 510.8766214301), (180.7718053978, 459.1641456354), (152.6980121723, 431.7990556592)],
                knots=[0, 0, 0, 1, 1, 1], degree=2))
            add(Edge.make_bspline(
                [(152.6980121723, 431.7990556592), (124.6242189469, 404.433965683), (71.9058417663, 404.433965683)],
                knots=[0, 0, 0, 1, 1, 1], degree=2))
            Line((71.9058417663, 404.433965683), (14.0207892853, 404.433965683))
            Line((14.0207892853, 404.433965683), (14.0207892853, 613.3413944238))
            Line((14.0207892853, 613.3413944238), (78.0326956624, 613.3413944238))
            add(Edge.make_bspline(
                [(78.0326956624, 613.3413944238), (126.7731900896, 613.3413944238), (153.7724977437, 586.3420867697)],
                knots=[0, 0, 0, 1, 1, 1], degree=2))
        make_face(mode=Mode.SUBTRACT)
    extrude(amount=F5_DEPTH)


solid = Compound([f1.part, f3.part, f5.part])
